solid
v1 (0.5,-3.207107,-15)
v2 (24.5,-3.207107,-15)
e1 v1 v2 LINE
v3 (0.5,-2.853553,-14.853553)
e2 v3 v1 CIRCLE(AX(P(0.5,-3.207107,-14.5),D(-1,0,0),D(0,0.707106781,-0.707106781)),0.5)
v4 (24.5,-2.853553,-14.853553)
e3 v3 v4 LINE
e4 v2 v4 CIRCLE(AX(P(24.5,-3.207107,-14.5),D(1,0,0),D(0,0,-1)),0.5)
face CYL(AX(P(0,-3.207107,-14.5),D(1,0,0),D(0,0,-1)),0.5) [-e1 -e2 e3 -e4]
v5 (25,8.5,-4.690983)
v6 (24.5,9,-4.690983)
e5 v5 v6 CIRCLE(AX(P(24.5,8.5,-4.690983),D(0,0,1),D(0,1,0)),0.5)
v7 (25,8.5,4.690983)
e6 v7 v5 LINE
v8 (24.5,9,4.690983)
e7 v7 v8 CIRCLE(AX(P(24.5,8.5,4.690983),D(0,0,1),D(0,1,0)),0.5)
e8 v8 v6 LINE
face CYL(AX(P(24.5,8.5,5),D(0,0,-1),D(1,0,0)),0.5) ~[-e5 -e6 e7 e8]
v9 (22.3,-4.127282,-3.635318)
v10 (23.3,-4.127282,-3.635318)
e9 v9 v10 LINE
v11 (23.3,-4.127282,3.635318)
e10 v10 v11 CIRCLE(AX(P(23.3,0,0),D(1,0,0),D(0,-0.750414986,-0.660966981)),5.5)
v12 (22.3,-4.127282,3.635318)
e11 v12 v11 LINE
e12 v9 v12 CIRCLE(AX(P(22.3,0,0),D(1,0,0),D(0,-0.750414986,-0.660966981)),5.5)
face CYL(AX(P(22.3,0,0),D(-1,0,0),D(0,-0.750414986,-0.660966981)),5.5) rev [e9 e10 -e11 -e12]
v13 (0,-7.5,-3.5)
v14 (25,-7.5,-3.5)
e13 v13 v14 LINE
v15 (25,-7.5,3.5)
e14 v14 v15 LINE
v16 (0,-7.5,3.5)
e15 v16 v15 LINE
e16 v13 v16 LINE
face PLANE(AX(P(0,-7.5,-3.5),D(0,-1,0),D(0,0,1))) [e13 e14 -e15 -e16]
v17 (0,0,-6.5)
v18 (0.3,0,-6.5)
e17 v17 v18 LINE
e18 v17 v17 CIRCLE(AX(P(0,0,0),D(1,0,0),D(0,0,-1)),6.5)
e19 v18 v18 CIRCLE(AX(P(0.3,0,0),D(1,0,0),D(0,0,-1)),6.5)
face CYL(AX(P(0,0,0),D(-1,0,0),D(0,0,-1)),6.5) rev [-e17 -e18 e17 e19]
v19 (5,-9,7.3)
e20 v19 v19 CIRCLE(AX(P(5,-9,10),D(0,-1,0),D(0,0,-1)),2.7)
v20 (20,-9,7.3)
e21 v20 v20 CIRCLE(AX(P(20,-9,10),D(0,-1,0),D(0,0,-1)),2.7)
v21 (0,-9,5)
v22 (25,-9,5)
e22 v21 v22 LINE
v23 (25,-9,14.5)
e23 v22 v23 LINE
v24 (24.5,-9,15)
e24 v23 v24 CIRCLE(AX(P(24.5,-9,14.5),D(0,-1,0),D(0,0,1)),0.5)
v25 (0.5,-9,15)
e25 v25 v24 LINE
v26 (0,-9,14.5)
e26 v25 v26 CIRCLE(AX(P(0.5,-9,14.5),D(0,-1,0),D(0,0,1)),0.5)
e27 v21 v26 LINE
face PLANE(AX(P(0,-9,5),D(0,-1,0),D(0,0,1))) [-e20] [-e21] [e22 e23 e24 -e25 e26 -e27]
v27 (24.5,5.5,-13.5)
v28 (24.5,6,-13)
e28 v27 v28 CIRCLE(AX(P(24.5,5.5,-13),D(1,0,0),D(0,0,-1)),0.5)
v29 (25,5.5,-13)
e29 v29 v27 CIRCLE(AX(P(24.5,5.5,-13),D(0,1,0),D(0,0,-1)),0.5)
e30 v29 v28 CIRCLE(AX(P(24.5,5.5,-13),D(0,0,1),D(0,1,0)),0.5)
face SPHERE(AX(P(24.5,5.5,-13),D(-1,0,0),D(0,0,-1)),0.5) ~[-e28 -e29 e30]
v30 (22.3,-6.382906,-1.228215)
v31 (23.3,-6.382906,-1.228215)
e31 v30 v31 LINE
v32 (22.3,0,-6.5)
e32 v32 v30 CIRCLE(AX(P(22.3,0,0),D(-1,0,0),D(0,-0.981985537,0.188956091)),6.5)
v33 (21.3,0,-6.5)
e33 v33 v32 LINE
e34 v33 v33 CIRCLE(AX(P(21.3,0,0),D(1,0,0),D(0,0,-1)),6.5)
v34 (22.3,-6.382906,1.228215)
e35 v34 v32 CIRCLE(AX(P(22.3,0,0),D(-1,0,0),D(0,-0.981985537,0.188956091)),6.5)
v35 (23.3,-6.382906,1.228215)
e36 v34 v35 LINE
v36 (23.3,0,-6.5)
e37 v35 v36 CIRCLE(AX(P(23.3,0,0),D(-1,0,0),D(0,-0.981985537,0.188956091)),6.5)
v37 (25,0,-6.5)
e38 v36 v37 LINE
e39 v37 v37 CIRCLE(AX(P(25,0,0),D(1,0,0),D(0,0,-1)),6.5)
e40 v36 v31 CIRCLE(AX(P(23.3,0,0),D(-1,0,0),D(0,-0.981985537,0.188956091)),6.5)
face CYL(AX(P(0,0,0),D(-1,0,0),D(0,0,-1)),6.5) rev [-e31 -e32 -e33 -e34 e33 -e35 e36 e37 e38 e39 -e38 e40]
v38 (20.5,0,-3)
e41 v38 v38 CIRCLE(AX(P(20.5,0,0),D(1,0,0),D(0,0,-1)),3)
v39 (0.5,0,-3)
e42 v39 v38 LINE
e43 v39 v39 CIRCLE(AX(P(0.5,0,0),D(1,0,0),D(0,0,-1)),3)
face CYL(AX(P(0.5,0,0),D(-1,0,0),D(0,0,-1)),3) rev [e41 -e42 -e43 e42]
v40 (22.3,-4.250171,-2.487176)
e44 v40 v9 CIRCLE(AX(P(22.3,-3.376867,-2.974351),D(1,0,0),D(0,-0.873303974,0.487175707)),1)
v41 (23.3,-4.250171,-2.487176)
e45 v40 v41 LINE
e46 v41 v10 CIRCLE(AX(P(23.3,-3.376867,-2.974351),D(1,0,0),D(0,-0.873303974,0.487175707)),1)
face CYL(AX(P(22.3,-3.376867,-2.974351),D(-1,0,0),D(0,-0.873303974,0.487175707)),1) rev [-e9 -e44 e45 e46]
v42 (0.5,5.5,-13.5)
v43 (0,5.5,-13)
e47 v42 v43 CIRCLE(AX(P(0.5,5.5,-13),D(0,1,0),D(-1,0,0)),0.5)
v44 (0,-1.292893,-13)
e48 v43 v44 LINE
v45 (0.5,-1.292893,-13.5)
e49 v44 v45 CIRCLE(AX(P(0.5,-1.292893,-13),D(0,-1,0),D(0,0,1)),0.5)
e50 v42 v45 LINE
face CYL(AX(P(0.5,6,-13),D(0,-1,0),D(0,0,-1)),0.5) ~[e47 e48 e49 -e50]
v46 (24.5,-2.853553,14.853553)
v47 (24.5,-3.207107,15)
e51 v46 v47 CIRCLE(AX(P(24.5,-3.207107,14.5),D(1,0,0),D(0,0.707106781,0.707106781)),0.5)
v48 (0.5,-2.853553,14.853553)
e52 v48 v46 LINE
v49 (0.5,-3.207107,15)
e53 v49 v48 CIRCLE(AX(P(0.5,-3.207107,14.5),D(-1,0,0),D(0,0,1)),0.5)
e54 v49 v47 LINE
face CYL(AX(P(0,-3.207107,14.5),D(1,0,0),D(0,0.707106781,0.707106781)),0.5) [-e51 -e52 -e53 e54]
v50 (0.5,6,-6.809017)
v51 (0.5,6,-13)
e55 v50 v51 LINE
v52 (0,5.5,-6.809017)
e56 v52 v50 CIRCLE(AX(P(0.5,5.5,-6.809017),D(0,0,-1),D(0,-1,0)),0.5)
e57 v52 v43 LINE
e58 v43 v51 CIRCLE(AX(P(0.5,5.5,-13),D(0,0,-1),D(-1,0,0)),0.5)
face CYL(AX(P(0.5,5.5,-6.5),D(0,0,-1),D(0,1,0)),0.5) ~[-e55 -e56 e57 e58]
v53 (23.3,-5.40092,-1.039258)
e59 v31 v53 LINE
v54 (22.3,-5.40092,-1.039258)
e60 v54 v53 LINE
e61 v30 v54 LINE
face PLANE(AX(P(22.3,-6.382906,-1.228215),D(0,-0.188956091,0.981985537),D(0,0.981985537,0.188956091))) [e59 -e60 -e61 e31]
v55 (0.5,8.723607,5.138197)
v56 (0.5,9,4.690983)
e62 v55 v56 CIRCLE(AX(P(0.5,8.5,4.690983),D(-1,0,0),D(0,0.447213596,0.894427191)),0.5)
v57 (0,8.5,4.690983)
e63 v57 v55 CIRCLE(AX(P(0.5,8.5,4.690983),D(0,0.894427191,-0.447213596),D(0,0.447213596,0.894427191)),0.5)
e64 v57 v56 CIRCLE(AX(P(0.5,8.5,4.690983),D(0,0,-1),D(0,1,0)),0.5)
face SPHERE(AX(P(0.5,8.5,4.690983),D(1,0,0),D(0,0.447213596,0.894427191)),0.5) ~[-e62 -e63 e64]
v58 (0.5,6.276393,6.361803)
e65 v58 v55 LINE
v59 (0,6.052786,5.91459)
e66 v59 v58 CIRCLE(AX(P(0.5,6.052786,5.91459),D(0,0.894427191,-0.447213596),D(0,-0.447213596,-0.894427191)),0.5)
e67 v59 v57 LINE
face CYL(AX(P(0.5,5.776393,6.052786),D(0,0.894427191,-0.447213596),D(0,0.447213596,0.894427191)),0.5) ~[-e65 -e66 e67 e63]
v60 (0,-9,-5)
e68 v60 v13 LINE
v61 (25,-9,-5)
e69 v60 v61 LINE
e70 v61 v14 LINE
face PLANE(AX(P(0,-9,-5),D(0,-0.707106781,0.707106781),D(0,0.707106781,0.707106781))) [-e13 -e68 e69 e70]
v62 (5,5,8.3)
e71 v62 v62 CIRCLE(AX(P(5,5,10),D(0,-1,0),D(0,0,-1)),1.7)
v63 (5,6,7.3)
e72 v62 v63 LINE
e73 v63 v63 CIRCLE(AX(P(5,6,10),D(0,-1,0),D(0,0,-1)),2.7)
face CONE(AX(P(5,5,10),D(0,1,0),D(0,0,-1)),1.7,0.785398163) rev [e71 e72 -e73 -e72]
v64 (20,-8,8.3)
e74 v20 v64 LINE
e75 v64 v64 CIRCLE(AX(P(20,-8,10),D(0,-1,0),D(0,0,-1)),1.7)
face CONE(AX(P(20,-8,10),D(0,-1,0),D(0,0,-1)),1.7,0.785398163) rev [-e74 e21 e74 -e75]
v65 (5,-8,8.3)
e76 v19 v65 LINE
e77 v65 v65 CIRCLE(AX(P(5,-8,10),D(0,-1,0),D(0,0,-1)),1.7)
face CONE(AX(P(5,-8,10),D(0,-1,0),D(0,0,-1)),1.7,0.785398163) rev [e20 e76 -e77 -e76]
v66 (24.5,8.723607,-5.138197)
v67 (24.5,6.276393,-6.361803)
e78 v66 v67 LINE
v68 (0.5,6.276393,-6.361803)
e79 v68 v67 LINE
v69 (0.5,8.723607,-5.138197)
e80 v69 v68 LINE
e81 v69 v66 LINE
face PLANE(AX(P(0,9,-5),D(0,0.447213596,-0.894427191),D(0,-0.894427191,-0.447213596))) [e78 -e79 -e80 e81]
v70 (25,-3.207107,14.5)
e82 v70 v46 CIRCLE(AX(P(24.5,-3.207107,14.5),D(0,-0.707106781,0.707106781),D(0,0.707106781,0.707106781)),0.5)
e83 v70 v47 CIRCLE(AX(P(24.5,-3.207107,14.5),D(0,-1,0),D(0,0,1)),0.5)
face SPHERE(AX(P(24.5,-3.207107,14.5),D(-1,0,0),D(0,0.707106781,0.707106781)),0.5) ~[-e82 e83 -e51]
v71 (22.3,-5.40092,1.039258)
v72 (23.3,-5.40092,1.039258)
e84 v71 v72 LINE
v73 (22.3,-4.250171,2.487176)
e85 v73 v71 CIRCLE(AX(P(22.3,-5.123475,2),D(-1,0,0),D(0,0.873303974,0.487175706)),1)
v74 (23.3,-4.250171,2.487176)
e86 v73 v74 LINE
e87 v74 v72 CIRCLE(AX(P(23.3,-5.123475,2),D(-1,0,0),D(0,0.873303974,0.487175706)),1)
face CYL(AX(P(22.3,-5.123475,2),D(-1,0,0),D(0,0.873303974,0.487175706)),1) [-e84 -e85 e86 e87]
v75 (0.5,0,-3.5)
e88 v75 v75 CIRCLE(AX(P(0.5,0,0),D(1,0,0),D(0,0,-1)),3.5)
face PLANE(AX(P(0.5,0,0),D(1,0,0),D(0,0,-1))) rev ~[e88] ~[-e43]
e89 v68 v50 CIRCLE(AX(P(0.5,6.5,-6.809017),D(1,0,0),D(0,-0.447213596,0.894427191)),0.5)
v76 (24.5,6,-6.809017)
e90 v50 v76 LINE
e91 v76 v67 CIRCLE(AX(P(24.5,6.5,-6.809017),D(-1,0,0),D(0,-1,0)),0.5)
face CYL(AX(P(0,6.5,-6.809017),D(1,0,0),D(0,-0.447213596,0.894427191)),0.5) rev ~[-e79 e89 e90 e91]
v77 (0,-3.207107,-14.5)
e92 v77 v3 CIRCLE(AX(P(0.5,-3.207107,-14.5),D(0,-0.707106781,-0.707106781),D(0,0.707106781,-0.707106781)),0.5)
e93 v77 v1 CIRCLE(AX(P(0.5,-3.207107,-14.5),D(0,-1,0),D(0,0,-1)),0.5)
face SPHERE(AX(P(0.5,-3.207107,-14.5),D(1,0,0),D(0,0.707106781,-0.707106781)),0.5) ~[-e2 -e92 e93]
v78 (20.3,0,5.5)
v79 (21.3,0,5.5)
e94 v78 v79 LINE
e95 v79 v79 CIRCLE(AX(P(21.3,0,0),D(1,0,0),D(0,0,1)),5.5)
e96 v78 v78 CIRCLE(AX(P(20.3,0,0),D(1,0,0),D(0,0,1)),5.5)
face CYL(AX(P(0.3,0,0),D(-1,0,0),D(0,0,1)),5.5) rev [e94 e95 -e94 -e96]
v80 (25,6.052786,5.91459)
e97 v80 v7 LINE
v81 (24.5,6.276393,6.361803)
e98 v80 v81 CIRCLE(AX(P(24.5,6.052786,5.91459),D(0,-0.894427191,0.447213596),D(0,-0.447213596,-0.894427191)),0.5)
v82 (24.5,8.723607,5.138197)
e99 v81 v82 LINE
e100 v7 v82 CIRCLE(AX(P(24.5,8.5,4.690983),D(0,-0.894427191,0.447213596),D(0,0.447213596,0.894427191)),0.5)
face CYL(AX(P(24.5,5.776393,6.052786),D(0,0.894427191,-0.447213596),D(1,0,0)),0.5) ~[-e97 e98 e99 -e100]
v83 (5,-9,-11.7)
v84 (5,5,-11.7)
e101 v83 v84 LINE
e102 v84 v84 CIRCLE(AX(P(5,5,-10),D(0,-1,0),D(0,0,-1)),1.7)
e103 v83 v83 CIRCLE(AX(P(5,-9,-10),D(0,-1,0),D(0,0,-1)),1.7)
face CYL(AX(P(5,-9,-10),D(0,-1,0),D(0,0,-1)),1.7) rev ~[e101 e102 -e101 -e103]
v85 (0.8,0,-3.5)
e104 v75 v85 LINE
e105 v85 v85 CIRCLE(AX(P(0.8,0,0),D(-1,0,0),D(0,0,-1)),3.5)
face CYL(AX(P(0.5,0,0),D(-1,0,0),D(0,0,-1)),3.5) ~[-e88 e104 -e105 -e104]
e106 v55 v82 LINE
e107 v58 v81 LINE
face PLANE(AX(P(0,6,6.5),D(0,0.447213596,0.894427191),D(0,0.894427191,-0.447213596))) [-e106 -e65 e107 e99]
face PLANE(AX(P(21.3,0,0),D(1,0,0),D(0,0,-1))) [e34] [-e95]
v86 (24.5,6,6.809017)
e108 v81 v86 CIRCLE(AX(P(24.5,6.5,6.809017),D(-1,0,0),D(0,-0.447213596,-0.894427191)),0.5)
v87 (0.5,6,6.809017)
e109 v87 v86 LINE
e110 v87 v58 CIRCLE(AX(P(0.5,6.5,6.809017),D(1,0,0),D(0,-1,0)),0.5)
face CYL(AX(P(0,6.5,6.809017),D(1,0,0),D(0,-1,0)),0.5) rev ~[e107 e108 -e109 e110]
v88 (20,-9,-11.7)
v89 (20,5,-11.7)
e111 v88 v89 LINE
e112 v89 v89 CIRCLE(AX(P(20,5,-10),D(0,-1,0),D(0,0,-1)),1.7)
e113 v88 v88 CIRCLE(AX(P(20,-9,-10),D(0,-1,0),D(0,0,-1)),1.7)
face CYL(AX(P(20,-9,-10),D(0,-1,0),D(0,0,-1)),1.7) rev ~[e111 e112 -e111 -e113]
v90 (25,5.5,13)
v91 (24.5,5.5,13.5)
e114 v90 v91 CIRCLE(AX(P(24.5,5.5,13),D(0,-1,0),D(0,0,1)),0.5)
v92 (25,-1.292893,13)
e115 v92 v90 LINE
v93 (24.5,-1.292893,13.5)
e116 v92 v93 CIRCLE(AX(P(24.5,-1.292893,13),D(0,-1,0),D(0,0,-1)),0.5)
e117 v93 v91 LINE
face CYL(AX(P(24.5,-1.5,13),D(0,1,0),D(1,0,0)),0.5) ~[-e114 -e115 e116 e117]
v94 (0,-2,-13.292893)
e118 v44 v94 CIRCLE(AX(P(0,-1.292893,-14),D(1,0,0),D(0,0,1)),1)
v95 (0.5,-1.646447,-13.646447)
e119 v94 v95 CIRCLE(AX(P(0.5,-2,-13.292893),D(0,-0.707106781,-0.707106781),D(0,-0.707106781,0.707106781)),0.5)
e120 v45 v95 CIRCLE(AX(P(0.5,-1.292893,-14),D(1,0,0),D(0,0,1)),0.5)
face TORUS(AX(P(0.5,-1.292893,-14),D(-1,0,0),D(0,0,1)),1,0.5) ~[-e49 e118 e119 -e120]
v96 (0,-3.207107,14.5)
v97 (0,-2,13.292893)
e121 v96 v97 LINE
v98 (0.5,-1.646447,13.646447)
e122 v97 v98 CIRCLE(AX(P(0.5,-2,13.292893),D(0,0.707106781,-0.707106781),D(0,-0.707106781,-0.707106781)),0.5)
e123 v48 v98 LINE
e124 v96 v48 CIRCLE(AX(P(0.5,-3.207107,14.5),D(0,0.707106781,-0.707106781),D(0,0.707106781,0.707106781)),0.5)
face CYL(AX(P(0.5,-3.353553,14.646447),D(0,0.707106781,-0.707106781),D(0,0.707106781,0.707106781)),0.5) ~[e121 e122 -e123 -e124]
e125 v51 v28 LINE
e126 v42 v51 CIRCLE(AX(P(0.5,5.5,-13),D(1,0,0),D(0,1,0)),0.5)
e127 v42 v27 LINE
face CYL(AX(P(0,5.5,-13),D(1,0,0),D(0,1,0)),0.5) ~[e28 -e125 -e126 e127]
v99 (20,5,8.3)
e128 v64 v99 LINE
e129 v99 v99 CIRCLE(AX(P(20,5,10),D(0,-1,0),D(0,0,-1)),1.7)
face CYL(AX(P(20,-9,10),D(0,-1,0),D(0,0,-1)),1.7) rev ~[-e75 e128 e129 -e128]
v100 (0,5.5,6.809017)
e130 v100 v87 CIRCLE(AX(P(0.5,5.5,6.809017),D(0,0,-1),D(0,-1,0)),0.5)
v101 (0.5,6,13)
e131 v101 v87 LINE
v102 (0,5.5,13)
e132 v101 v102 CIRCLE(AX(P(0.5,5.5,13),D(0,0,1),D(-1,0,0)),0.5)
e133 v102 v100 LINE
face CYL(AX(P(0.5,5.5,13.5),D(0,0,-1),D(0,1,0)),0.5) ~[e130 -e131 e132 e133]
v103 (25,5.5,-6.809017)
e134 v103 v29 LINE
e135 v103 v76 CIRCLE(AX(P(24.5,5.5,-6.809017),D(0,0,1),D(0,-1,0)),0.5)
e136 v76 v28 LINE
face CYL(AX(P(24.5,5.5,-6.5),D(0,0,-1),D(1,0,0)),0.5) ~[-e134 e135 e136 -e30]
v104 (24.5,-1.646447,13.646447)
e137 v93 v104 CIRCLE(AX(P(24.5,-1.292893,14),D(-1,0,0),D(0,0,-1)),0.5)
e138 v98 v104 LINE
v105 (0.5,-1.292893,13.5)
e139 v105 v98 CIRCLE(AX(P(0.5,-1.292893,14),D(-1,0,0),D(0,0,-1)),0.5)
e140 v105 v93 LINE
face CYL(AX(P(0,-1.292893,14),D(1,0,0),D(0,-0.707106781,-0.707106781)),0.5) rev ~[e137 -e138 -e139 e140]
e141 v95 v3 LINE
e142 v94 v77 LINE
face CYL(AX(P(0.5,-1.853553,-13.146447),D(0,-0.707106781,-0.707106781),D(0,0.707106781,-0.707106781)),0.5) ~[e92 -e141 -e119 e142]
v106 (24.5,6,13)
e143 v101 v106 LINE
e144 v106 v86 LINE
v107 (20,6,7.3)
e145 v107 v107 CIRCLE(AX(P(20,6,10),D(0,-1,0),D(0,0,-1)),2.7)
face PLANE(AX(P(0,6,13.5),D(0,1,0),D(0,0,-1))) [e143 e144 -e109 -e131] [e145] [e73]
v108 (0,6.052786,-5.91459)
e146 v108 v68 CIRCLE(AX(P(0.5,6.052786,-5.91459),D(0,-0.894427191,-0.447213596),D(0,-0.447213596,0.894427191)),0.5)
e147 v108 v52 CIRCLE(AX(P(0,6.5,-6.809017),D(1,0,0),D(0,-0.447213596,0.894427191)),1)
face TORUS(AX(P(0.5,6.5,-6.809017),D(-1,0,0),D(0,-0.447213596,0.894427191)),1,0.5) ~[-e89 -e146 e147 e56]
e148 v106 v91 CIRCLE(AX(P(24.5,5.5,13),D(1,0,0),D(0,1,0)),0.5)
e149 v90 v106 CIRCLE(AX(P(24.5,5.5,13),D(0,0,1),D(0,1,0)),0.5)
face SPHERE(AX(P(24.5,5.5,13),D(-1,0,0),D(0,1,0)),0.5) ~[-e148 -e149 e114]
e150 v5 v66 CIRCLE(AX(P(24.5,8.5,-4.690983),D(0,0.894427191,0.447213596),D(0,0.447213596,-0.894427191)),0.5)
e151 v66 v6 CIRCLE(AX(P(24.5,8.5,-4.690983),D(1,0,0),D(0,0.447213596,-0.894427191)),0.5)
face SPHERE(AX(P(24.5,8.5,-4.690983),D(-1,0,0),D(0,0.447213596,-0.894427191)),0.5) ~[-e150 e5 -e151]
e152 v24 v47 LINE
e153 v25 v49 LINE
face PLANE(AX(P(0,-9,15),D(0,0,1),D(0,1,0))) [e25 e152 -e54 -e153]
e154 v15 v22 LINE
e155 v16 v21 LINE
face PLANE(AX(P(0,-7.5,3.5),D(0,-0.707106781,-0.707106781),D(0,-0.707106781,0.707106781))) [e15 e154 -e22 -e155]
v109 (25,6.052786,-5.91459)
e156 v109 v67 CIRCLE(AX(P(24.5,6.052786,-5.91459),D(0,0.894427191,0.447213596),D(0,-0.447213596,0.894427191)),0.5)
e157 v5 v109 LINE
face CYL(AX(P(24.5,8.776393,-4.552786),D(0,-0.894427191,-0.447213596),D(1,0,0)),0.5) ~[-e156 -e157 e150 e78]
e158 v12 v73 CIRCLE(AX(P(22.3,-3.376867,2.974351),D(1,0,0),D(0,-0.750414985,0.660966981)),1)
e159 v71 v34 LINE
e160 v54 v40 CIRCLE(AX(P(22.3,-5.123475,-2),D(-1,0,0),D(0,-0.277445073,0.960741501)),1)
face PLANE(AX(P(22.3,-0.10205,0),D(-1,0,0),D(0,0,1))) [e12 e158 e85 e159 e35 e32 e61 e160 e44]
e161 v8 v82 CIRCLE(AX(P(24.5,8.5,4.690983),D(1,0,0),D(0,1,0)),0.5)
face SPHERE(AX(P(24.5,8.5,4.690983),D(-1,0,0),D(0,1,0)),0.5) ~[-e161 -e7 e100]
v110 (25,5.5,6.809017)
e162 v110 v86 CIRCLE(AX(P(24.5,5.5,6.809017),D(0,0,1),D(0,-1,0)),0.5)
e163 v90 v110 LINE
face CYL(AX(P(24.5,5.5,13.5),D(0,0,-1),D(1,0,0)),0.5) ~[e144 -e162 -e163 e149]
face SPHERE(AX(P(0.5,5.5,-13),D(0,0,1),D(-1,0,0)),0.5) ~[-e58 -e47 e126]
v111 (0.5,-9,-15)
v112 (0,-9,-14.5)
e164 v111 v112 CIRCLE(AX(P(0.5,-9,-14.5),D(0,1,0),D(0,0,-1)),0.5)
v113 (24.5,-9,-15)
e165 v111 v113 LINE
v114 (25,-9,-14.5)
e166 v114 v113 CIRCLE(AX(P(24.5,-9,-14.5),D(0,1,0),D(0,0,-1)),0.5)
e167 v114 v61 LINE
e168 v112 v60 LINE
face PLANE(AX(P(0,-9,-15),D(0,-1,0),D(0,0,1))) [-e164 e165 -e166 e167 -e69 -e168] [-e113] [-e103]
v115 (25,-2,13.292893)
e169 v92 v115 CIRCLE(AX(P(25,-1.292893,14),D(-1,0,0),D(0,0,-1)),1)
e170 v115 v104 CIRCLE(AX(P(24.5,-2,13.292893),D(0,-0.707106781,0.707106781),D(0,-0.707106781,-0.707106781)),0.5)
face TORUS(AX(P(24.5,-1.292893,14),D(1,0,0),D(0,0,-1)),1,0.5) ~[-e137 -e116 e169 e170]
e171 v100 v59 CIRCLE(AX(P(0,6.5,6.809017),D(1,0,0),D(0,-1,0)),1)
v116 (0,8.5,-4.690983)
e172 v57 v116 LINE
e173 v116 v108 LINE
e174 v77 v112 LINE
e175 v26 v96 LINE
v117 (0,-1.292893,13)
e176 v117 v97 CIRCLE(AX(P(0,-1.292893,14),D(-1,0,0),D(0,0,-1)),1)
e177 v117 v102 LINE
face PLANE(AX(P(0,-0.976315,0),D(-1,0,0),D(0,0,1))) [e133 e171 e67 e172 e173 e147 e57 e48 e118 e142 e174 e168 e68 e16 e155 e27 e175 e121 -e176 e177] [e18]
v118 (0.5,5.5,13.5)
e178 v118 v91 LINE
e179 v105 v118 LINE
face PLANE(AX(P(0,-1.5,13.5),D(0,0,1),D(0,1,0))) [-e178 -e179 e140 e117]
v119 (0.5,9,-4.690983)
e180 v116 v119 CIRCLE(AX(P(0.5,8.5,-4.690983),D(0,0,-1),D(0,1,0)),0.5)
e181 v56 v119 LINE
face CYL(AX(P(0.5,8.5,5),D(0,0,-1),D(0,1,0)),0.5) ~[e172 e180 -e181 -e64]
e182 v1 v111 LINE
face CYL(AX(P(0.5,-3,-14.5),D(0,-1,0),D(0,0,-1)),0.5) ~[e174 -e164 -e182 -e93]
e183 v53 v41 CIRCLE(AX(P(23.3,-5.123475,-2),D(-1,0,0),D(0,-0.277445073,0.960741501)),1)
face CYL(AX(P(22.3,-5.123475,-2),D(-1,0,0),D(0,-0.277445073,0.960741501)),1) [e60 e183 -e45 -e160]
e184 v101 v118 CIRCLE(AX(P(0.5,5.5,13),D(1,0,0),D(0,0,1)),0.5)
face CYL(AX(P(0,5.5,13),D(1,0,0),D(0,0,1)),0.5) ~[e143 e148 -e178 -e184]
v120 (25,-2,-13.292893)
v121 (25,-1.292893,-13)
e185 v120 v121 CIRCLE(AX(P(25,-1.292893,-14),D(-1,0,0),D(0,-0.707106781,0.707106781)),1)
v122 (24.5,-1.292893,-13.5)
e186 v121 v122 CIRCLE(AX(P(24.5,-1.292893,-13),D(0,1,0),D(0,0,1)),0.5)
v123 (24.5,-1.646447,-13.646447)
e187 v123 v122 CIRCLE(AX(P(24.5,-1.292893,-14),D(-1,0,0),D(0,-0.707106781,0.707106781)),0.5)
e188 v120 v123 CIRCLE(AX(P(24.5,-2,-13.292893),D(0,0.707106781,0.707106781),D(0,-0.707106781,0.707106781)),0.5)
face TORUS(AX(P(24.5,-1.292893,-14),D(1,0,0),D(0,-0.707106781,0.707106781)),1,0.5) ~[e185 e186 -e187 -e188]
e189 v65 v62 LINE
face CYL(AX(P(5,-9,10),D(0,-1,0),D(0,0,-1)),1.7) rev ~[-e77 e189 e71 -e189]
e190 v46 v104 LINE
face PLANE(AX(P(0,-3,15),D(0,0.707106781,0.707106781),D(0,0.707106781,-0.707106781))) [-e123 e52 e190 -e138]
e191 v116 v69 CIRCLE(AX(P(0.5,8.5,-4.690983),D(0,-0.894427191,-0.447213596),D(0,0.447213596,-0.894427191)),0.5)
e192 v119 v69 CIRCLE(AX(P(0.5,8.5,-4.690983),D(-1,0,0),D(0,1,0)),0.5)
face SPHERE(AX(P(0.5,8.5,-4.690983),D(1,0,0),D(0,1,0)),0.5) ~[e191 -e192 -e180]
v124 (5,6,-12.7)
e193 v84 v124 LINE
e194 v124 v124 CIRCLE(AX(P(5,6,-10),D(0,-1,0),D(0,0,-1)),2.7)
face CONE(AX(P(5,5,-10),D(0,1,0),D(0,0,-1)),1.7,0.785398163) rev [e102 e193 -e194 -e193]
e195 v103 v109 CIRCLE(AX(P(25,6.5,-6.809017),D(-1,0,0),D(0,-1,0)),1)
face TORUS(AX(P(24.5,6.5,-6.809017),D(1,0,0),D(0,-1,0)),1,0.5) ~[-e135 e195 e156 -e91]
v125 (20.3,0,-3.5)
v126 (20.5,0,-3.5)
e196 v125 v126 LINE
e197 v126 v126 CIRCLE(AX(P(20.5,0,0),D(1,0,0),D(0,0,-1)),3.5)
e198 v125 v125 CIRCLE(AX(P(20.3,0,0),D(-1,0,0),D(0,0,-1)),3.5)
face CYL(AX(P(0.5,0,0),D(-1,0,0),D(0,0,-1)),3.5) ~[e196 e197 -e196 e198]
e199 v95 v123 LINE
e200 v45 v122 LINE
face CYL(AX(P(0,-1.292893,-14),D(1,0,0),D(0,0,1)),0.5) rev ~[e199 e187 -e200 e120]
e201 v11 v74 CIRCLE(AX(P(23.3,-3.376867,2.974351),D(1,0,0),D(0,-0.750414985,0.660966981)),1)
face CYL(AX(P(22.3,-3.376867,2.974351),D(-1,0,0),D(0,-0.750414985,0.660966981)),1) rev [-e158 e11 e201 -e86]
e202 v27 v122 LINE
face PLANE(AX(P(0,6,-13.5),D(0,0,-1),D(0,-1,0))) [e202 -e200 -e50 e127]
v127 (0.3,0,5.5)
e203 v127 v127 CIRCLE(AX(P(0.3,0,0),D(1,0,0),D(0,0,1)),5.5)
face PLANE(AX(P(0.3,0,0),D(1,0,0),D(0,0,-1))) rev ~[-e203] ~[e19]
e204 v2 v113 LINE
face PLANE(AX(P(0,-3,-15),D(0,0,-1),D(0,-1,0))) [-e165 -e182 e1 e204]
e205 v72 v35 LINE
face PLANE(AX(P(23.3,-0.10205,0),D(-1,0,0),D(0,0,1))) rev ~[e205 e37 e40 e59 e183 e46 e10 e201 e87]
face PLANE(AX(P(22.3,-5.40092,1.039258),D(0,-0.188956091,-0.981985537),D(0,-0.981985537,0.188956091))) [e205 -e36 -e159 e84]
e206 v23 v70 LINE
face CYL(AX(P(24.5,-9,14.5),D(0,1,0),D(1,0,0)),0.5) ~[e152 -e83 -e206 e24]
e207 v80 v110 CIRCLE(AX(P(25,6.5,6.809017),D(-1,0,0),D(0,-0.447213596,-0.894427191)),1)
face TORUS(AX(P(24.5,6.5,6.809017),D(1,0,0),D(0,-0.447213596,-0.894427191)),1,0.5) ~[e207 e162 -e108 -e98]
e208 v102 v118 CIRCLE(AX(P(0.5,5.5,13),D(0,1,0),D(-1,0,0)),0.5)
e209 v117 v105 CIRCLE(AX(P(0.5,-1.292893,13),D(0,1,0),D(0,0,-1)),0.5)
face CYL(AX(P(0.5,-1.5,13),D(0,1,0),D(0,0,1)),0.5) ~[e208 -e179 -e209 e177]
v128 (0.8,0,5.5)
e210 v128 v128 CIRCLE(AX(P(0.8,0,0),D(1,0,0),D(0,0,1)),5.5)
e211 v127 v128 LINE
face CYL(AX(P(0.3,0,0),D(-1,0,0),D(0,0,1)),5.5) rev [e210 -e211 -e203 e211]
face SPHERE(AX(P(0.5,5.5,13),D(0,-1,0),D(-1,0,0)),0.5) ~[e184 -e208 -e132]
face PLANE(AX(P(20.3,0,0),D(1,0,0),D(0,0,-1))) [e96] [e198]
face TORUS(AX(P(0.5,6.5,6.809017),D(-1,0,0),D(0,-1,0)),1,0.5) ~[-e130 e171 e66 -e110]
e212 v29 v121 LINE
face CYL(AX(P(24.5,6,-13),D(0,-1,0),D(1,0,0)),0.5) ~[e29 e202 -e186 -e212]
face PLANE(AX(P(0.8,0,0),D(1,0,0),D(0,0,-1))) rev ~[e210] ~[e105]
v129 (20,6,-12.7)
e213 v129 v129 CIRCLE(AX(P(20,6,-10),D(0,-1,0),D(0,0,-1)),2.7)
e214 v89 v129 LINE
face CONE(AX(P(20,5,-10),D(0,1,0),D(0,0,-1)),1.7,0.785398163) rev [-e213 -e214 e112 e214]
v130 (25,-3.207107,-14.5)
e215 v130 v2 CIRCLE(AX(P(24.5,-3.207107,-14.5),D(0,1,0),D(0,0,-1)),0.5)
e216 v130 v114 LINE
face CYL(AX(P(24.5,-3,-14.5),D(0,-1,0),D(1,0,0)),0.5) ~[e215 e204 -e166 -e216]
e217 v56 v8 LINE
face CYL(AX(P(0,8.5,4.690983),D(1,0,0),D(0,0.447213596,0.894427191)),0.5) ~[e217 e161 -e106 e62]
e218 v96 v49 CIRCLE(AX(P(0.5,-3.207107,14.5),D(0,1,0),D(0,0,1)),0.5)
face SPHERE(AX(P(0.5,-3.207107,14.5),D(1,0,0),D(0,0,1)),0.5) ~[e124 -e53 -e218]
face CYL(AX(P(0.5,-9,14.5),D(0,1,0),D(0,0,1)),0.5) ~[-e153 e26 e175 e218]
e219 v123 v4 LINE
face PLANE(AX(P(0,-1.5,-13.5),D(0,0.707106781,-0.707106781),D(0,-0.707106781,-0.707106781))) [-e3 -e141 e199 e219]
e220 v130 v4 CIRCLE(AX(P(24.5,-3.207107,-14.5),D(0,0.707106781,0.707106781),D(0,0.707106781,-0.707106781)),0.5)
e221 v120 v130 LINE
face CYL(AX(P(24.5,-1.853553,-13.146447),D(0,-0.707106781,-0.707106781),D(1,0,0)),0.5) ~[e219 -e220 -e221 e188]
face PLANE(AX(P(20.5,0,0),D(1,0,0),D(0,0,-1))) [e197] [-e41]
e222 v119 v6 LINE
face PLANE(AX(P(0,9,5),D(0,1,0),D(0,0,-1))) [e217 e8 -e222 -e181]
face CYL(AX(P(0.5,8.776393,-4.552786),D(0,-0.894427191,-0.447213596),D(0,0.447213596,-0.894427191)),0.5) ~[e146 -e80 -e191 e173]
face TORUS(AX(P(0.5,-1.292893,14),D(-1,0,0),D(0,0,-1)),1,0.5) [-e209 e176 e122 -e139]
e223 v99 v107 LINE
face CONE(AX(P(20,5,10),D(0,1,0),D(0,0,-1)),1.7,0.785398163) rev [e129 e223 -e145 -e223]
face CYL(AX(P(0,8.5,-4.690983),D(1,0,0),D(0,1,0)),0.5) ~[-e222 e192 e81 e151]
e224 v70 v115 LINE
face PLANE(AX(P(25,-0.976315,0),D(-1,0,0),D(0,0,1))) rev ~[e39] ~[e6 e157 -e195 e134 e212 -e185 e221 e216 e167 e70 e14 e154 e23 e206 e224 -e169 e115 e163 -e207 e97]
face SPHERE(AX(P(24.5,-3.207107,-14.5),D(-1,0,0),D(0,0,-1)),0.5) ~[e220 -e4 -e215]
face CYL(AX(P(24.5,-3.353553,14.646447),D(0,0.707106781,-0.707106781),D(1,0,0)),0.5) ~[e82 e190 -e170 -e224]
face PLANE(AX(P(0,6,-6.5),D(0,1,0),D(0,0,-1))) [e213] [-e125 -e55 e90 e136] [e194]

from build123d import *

# Parameters (mm, degrees)
SKETCH1_R           = 6.5
BOSS_EXTRUDE1_DEPTH = 25
EXTRUDE_THIN1_START = 0.5
SKETCH1_4_R         = 3.5
SKETCH1_4_R_2       = 3
EXTRUDE_THIN1_DEPTH = 20
BOSS_EXTRUDE2_START = 0.8
SKETCH1_5_R         = 5.5
SKETCH1_5_R_2       = 3
BOSS_EXTRUDE2_DEPTH = 19.5
BOSS_EXTRUDE3_START = 0.3
SKETCH1_6_R         = 6.5
SKETCH1_6_R_2       = 5.5
BOSS_EXTRUDE3_DEPTH = 21
BOSS_EXTRUDE4_START = 1
BOSS_EXTRUDE4_DEPTH = 1
FILLET1_R           = 0.5
SKETCH4_R           = 1.7
CUT_EXTRUDE3_DEPTH  = 35.263683398
CHAMFER1_SIZE       = 1


with BuildPart() as part:
    # Sketch1 → Boss-Extrude1 (new body)
    with BuildSketch(Plane(origin=(0, 0, 0), x_dir=(0, 0, -1), z_dir=(1, 0, 0))):
        Polygon((-15, -9), (-5, -9), (-3.5, -7.5), (3.5, -7.5), (5, -9), (15, -9), (15, -3), (13.5, -1.5), (13.5, 6), (6.5, 6), (5, 9), (-5, 9), (-6.5, 6), (-13.5, 6), (-13.5, -1.5), (-15, -3), align=None)
        Circle(SKETCH1_R, mode=Mode.SUBTRACT)
    extrude(amount=BOSS_EXTRUDE1_DEPTH)



with BuildPart() as body_2:
    # Sketch1<4> → Extrude-Thin1 (new body)
    with BuildSketch(Plane(origin=(0, 0, 0), x_dir=(0, 0, -1), z_dir=(1, 0, 0)).offset(EXTRUDE_THIN1_START)):
        Circle(SKETCH1_4_R)
        Circle(SKETCH1_4_R_2, mode=Mode.SUBTRACT)
    extrude(amount=EXTRUDE_THIN1_DEPTH)

    # Sketch1<5> → Boss-Extrude2 (add)
    with BuildSketch(Plane(origin=(0, 0, 0), x_dir=(0, 0, -1), z_dir=(1, 0, 0)).offset(BOSS_EXTRUDE2_START)):
        Circle(SKETCH1_5_R)
        Circle(SKETCH1_5_R_2, mode=Mode.SUBTRACT)
    extrude(amount=BOSS_EXTRUDE2_DEPTH)


with BuildPart() as part_1:
    add(part.part)

    add(body_2.part)  # Boss-Extrude3 merges body 2
    # Sketch1<6> → Boss-Extrude3 (add)
    with BuildSketch(Plane(origin=(0, 0, 0), x_dir=(0, 0, -1), z_dir=(1, 0, 0)).offset(BOSS_EXTRUDE3_START)):
        Circle(SKETCH1_6_R)
        Circle(SKETCH1_6_R_2, mode=Mode.SUBTRACT)
    extrude(amount=BOSS_EXTRUDE3_DEPTH)

    # Sketch3 → Boss-Extrude4 (add)
    with BuildSketch(Plane(origin=(21.3, 0, 0), x_dir=(0, 0, -1), z_dir=(1, 0, 0)).offset(BOSS_EXTRUDE4_START)):
        with BuildLine():
            Line((-1.039258499, -5.400920456), (-1.22821459, -6.382905993))
            ThreePointArc((-1.22821459, -6.382905993), (0, 6.5), (1.22821459, -6.382905993))
            Line((1.22821459, -6.382905993), (1.039258499, -5.400920456))
            ThreePointArc((1.039258499, -5.400920456), (1.377808725, -4.340610122), (2.487175706, -4.250171409))
            ThreePointArc((2.487175706, -4.250171409), (3.080776399, -4.371188169), (3.635318393, -4.12728242))
            ThreePointArc((3.635318393, -4.12728242), (0, 5.5), (-3.635318393, -4.12728242))
            ThreePointArc((-3.635318393, -4.12728242), (-3.080776399, -4.371188169), (-2.487175706, -4.250171409))
            ThreePointArc((-2.487175706, -4.250171409), (-1.377808725, -4.340610122), (-1.039258499, -5.400920456))
        make_face()
    extrude(amount=BOSS_EXTRUDE4_DEPTH)

    # Fillet1
    fillet1_edges = [part_1.edges().sort_by_distance(p)[0] for p in [
        (12.5, -1.5, -13.5),
        (12.5, -1.5, 13.5),
        (12.5, -3, 15),
        (12.5, -3, -15),
        (12.5, 6, -6.5),
        (12.5, 6, 6.5),
        (12.5, 9, 5),
        (12.5, 9, -5),
        (12.5, 6, -13.5),
        (12.5, 6, 13.5),
        (25, 7.5, -5.75),
        (25, 7.5, 5.75),
        (25, 2.25, 13.5),
        (0, -2.25, 14.25),
        (0, 7.5, 5.75),
        (25, -2.25, -14.25),
        (25, -6, -15),
        (25, 2.25, -13.5),
        (25, 9, 0),
        (25, 6, -10),
        (25, 6, 10),
        (25, -2.25, 14.25),
        (25, -6, 15),
        (0, -6, -15),
        (0, -2.25, -14.25),
        (0, 2.25, -13.5),
        (0, 7.5, -5.75),
        (0, 6, -10),
        (0, 9, 0),
        (0, -6, 15),
        (0, 2.25, 13.5),
        (0, 6, 10),
    ]]
    fillet(fillet1_edges, radius=FILLET1_R)

    # Sketch4 → Cut-Extrude3 (cut, through all)
    with BuildSketch(Plane.XZ.offset(9)):
        with Locations((5, 10)):
            Circle(SKETCH4_R)
        with Locations((20, 10)):
            Circle(SKETCH4_R)
        with Locations((20, -10)):
            Circle(SKETCH4_R)
        with Locations((5, -10)):
            Circle(SKETCH4_R)
    extrude(amount=-CUT_EXTRUDE3_DEPTH, mode=Mode.SUBTRACT)

    # Chamfer1
    chamfer1_edges = [part_1.edges().sort_by_distance(p)[0] for p in [
        (18.3, 6, -10),
        (3.3, 6, -10),
        (3.3, 6, 10),
        (18.3, 6, 10),
        (18.3, -9, 10),
        (3.3, -9, 10),
    ]]
    chamfer(chamfer1_edges, length=CHAMFER1_SIZE)


solid = part_1.part
